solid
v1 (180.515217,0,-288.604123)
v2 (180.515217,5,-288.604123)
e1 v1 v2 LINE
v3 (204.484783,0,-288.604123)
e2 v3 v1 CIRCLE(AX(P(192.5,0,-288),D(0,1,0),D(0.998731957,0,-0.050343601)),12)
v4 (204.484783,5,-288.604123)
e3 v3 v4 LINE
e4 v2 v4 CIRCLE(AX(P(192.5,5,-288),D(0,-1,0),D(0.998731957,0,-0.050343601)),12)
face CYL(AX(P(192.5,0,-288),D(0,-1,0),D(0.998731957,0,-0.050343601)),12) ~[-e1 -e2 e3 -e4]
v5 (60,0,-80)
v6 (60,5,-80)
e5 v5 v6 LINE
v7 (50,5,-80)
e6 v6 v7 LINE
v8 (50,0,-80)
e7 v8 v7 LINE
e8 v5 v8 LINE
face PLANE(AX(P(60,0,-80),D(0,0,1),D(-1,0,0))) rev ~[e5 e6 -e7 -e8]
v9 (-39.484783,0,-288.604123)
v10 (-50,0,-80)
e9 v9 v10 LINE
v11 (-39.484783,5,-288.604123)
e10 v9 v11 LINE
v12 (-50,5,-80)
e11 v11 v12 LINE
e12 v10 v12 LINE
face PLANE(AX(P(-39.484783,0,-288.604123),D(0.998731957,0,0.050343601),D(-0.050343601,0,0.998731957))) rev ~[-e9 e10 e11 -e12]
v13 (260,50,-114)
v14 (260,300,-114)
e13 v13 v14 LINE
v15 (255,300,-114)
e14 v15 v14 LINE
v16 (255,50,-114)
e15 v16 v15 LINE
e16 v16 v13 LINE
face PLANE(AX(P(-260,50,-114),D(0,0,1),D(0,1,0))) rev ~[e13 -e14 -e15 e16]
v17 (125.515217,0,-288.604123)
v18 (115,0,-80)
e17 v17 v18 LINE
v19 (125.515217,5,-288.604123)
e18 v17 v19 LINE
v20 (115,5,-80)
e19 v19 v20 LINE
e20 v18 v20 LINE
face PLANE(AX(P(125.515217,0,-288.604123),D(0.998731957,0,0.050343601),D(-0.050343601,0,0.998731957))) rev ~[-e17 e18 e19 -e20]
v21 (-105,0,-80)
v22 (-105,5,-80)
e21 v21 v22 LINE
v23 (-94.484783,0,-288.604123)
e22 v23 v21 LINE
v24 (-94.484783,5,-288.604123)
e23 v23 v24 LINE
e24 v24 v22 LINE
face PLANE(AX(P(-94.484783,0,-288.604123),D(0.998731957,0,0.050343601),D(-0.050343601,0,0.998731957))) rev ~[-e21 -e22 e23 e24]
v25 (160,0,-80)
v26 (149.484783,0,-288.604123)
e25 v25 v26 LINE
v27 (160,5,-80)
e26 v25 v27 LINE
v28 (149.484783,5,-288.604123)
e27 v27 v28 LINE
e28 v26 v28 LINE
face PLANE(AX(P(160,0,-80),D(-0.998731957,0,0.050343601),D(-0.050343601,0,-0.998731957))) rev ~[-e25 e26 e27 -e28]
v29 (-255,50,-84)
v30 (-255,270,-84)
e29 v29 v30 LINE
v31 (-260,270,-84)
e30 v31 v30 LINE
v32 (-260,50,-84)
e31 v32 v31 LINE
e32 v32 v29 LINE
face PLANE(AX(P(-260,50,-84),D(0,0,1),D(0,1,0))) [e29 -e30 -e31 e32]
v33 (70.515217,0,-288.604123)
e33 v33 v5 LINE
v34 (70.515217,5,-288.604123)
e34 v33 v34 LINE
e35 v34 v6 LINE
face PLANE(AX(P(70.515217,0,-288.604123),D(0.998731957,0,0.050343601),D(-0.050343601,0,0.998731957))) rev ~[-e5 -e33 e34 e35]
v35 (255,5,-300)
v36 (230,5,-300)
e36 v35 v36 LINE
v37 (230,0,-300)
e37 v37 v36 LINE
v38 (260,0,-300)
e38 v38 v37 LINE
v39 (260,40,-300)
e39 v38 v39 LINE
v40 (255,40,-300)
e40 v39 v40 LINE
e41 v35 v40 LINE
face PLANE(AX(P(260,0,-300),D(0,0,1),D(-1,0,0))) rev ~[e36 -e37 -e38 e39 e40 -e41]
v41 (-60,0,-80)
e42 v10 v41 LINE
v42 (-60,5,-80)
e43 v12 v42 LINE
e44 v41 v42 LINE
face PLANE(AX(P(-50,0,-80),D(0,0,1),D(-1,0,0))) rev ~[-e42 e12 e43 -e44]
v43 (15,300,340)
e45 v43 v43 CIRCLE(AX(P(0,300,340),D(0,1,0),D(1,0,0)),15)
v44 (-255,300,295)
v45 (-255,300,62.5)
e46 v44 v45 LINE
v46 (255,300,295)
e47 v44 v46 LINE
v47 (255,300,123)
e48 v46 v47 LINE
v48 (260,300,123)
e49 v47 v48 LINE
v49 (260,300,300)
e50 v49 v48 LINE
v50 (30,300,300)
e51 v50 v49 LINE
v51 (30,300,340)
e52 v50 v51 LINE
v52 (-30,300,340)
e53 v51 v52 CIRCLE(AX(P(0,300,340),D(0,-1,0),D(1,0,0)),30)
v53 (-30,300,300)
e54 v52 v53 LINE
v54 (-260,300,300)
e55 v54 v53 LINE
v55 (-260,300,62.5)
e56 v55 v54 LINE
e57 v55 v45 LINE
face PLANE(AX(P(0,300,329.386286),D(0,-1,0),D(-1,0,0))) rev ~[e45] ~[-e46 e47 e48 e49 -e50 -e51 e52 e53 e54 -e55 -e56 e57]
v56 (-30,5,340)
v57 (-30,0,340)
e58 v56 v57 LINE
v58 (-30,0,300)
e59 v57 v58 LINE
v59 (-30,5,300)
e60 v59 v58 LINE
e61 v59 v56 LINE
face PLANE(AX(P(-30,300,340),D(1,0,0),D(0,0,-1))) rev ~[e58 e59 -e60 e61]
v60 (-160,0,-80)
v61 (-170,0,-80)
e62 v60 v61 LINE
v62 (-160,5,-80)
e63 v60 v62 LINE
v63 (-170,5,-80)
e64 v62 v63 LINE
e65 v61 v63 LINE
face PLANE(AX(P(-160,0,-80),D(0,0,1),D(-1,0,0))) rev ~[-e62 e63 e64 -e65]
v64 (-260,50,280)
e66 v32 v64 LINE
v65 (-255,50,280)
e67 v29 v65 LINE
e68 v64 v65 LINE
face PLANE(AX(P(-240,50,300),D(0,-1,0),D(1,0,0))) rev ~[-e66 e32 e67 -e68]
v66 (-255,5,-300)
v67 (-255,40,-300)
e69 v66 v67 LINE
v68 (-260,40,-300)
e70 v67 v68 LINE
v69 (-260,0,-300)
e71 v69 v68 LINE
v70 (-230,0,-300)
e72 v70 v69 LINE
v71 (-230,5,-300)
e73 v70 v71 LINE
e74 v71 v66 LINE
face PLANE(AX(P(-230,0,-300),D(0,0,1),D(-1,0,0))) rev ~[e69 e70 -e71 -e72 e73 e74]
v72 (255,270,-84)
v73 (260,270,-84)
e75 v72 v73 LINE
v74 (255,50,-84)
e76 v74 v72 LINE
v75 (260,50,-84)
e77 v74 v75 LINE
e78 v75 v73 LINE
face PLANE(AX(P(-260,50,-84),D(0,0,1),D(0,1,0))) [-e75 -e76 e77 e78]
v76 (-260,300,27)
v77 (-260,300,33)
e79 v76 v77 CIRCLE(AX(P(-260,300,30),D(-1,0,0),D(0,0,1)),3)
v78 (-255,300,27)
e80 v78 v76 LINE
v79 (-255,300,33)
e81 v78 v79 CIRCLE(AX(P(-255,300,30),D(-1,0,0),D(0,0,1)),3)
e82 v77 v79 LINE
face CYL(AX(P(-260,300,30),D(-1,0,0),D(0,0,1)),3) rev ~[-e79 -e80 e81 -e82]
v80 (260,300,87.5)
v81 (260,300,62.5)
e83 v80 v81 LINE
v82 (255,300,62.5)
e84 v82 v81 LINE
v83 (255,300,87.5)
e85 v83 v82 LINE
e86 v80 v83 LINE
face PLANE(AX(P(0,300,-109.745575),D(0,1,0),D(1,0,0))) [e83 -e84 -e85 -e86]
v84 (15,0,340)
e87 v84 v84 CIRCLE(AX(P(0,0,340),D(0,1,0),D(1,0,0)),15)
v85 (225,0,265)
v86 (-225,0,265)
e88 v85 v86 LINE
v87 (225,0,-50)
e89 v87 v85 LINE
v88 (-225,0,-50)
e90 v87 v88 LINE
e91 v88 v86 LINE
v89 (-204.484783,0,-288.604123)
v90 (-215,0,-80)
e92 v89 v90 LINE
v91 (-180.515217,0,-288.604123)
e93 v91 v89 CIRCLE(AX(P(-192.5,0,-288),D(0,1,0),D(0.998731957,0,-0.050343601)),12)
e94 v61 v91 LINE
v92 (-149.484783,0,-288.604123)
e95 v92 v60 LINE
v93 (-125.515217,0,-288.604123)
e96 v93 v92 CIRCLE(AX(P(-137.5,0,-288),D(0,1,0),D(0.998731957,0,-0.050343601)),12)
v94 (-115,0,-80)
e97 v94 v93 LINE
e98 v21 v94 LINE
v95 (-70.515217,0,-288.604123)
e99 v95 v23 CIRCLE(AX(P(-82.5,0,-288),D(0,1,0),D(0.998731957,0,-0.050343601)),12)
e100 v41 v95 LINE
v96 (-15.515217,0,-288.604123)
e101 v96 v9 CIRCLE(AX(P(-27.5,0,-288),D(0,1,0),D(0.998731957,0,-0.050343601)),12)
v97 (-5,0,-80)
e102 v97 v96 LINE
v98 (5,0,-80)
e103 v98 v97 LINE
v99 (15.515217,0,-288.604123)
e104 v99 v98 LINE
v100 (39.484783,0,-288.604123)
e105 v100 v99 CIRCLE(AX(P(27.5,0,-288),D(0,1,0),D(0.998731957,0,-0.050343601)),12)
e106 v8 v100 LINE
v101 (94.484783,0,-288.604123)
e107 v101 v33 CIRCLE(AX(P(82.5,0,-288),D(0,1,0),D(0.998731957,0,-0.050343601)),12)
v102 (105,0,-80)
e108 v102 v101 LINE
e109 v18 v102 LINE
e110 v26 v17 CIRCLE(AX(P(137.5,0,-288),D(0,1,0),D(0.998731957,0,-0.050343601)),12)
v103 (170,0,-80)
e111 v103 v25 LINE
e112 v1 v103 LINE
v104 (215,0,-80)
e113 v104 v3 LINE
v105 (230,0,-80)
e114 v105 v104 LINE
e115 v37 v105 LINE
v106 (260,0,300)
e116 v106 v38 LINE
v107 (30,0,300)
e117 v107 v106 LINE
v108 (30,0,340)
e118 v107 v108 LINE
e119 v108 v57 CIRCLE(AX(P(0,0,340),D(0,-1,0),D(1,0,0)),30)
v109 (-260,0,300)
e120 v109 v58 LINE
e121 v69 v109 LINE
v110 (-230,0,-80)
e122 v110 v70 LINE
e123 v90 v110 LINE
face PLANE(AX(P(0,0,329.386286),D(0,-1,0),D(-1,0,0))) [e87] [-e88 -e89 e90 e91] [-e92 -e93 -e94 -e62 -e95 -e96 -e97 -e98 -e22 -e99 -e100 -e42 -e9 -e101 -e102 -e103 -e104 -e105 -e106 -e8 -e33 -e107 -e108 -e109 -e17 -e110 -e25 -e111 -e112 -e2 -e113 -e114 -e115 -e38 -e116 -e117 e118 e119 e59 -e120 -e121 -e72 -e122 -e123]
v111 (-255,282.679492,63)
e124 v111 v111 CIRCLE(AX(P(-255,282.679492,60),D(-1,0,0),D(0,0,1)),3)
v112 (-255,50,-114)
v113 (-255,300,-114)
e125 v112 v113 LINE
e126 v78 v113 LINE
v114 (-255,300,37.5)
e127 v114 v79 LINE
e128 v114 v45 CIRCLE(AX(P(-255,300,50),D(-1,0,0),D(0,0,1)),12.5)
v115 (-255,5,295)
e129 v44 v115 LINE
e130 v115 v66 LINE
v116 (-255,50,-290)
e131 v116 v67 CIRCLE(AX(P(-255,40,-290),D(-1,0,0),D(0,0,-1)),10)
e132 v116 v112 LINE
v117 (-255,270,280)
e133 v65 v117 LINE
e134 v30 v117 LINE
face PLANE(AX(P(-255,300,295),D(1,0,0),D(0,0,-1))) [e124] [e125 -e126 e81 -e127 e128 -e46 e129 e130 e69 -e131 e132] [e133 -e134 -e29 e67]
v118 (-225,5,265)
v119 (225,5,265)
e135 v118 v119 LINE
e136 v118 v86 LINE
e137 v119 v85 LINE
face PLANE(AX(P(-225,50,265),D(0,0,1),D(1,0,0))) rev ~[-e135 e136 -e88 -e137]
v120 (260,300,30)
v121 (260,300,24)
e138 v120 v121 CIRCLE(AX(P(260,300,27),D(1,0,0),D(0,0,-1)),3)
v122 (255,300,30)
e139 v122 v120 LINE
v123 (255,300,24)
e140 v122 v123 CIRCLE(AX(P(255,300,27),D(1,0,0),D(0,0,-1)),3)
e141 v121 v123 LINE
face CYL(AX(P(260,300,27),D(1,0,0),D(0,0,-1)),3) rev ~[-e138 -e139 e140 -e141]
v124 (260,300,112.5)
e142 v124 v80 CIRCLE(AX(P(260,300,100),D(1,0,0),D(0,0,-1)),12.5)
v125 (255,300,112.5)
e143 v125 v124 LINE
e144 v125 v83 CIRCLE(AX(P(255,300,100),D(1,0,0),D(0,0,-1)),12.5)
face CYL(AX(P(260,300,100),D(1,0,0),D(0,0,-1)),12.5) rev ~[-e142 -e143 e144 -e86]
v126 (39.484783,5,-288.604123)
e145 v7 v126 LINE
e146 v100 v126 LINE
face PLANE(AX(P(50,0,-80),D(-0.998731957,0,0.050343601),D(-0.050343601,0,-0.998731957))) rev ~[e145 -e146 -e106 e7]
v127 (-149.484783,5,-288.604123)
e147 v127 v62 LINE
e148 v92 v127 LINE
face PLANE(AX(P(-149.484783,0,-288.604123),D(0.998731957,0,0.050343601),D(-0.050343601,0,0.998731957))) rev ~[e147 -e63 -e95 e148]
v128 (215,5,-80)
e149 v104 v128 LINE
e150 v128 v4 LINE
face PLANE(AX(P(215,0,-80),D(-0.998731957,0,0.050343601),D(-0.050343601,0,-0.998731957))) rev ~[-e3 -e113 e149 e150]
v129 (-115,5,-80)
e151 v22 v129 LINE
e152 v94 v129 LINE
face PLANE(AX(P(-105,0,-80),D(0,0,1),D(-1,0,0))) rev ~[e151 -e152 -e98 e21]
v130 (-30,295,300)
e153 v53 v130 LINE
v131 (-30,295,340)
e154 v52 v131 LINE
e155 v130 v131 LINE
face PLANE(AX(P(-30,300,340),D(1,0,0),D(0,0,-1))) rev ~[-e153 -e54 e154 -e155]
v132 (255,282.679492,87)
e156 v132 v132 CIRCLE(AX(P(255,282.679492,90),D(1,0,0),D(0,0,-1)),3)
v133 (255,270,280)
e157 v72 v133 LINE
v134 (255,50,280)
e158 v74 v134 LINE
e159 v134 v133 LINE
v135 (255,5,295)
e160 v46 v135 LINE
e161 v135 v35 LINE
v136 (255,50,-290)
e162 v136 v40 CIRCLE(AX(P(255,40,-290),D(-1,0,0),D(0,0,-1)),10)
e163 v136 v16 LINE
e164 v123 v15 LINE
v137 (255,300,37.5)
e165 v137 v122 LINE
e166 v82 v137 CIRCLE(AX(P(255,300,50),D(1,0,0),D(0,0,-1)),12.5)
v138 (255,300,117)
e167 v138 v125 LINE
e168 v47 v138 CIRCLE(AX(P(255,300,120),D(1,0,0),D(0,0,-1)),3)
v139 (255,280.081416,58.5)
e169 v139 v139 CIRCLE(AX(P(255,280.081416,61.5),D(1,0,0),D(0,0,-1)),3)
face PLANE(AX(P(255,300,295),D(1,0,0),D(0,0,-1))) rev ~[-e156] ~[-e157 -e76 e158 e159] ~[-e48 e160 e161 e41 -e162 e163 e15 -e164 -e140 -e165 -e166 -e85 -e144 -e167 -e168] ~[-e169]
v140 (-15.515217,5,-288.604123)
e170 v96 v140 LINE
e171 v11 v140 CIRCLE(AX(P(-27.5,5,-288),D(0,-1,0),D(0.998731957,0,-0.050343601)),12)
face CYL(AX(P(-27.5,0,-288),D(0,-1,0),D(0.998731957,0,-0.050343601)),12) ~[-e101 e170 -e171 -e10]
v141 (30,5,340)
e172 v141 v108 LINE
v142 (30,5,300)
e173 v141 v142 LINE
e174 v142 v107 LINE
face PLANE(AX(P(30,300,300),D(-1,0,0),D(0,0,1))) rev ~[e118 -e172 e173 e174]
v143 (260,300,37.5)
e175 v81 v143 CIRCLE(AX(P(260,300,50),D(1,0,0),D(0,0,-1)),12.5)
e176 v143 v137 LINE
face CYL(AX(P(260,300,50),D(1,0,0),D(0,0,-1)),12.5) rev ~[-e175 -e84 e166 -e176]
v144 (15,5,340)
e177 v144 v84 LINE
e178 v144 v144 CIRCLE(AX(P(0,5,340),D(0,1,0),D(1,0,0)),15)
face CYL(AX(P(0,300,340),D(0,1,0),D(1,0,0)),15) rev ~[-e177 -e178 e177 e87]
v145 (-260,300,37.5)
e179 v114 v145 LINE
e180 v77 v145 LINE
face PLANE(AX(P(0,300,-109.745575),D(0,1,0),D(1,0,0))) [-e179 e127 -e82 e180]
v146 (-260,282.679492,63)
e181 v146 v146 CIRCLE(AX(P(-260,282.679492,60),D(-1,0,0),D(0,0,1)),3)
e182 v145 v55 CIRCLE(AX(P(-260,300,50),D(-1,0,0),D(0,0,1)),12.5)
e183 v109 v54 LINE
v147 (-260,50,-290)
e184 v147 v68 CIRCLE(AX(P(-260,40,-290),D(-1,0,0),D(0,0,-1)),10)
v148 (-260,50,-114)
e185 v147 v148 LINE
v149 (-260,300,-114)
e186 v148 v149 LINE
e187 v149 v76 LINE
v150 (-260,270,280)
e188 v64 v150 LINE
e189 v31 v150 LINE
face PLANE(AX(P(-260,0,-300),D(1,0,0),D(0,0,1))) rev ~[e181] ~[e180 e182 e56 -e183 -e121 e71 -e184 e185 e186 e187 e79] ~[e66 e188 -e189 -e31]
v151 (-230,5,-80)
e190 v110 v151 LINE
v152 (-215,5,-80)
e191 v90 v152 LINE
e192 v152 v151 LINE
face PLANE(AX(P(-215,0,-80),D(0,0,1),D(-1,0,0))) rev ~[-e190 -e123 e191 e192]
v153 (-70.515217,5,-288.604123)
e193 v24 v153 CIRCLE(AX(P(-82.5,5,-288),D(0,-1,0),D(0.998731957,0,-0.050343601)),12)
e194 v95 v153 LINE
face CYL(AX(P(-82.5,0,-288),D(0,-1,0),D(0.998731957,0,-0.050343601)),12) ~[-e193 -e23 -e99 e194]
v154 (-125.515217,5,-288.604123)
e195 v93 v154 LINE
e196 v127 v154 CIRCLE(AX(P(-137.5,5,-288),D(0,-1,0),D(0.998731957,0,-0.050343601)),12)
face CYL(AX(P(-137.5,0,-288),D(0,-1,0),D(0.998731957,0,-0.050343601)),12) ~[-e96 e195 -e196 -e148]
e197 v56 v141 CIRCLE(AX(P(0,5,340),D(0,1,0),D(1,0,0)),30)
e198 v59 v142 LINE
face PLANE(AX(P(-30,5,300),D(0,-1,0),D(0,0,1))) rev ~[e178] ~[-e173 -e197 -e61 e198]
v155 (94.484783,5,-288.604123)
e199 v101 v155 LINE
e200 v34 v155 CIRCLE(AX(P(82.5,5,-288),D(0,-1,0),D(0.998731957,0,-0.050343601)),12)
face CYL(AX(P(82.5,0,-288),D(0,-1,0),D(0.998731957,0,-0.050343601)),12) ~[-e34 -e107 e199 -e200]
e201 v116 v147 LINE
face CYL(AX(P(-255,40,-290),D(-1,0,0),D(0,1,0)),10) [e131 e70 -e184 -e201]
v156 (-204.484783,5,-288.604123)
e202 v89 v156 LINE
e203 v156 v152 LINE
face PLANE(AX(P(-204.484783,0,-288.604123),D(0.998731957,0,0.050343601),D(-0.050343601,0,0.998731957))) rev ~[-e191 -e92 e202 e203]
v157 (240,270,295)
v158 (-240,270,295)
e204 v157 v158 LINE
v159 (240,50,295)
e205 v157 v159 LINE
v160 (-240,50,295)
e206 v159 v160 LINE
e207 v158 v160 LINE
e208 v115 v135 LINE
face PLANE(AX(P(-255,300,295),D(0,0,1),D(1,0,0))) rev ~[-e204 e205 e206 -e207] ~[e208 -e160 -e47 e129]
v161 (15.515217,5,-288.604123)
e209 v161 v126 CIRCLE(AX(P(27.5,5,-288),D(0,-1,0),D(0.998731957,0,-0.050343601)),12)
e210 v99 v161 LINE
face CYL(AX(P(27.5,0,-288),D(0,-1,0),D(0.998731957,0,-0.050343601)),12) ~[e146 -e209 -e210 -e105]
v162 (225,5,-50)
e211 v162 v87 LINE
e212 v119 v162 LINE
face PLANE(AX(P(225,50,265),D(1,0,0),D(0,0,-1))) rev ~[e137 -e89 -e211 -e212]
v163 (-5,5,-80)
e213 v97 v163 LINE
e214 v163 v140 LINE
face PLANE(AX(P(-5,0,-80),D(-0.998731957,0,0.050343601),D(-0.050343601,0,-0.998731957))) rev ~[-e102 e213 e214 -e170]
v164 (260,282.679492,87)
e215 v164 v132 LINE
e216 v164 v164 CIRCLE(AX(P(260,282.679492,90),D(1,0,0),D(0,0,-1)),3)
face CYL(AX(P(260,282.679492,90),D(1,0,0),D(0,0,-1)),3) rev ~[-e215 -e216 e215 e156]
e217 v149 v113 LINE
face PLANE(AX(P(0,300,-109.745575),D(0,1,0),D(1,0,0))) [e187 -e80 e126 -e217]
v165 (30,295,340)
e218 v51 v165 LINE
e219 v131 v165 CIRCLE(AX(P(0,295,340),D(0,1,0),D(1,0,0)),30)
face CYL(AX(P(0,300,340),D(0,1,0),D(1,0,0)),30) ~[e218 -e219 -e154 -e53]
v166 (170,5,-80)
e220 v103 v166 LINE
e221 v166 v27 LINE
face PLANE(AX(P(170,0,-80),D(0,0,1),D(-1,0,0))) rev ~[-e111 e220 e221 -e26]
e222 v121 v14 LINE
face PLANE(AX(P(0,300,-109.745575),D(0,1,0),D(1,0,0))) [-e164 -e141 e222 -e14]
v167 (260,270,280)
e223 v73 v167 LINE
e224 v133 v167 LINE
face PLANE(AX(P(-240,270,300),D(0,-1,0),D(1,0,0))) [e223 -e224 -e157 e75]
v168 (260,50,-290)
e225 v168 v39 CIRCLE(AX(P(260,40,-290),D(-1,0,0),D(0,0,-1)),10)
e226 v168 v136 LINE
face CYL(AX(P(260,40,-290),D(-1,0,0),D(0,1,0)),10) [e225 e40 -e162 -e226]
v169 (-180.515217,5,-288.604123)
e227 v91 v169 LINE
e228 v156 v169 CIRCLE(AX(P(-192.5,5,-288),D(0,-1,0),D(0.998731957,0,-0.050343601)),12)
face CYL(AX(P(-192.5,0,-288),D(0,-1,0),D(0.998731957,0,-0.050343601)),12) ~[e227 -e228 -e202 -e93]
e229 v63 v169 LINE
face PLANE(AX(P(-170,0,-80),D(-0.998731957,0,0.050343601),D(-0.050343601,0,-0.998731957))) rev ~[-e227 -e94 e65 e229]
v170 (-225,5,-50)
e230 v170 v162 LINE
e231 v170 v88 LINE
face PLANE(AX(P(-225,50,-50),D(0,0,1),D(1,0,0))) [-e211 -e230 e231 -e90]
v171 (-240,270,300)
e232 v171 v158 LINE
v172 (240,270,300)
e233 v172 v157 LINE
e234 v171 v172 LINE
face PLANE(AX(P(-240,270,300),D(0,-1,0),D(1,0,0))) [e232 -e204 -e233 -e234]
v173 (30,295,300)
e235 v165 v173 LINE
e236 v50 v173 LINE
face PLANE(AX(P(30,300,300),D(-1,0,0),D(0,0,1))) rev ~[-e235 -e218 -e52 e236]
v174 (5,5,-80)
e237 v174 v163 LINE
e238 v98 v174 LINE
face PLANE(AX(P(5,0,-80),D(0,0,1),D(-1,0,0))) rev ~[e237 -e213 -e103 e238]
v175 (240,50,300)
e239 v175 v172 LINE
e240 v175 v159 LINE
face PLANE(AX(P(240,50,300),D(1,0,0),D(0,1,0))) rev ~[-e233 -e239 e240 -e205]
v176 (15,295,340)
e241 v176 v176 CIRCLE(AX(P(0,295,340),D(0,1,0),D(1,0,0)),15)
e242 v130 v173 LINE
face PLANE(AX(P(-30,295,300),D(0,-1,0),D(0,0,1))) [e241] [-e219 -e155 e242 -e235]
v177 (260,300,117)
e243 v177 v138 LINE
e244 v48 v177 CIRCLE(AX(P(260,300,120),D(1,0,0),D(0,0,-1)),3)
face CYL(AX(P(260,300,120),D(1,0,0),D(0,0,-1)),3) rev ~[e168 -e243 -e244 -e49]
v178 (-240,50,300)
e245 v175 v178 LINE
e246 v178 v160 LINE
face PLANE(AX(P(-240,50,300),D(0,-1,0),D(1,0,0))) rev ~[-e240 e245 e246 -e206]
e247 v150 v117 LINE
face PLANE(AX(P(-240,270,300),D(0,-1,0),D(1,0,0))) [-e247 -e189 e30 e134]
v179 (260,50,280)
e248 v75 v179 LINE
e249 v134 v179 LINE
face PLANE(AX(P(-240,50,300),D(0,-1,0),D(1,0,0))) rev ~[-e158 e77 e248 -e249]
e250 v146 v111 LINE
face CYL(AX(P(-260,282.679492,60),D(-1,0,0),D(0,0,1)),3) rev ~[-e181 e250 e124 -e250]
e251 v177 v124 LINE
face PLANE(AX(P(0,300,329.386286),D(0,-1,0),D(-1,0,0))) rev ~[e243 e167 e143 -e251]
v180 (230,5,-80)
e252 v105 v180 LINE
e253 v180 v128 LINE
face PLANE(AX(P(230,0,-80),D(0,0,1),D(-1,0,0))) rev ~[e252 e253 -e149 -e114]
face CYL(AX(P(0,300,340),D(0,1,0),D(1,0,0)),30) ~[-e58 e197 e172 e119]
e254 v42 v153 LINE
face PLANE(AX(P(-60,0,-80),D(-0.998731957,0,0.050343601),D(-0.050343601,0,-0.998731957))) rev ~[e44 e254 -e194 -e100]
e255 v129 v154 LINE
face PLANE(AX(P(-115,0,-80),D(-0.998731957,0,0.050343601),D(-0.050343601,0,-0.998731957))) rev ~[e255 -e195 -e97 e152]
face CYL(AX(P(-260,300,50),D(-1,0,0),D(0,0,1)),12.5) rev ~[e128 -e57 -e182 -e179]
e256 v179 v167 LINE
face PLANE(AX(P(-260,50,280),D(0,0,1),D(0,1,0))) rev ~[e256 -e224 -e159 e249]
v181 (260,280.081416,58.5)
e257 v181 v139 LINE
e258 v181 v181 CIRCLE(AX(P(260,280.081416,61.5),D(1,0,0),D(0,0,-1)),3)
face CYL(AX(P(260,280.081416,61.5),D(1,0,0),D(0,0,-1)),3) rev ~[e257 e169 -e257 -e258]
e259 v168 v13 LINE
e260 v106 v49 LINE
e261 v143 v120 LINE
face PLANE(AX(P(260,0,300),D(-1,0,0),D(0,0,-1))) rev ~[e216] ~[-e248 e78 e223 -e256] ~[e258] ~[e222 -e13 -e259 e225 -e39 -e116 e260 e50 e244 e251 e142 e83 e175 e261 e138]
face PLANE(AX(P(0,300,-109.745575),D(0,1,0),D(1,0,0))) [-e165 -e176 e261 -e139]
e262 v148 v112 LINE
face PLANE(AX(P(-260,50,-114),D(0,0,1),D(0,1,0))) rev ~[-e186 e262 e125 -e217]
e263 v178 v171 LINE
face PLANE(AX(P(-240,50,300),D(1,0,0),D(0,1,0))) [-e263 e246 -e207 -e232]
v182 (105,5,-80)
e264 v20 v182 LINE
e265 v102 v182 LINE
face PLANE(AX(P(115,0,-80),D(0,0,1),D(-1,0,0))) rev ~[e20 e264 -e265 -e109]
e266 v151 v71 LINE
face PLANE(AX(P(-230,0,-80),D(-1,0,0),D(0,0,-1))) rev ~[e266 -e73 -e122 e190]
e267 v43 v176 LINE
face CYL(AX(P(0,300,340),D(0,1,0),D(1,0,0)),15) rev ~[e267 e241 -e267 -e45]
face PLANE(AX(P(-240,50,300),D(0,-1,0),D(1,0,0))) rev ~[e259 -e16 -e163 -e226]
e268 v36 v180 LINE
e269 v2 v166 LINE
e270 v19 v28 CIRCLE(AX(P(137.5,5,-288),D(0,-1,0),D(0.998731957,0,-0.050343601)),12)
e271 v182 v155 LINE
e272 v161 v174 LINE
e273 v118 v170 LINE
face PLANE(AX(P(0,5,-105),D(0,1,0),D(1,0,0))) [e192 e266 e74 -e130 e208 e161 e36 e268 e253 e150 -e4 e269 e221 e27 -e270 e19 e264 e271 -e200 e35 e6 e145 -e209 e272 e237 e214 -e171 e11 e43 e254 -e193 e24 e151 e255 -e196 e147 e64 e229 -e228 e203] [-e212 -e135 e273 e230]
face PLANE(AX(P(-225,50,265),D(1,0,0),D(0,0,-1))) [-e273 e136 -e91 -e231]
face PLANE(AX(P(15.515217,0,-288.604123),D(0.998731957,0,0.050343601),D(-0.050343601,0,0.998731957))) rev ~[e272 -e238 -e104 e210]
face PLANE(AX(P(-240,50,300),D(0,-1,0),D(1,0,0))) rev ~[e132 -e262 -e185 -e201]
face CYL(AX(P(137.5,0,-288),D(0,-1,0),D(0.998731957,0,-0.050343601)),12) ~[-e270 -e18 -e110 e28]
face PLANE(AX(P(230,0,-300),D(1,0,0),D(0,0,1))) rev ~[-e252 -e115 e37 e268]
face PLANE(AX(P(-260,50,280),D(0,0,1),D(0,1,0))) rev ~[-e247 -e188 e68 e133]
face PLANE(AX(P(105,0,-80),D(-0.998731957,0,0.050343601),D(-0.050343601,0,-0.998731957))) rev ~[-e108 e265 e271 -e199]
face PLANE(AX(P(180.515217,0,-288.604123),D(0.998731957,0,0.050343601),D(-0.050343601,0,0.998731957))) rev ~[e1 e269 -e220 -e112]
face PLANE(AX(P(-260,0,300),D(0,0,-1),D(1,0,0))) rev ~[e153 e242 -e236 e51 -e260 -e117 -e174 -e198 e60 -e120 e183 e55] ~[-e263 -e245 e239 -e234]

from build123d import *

# Parameters (mm, degrees)
EXTRUDE_1_DEPTH      = 300
SKETCH_2_W           = 480
SKETCH_2_H           = 220
CUT_EXTRUDE_1_DEPTH  = 601
SKETCH_3_W           = 364
SKETCH_3_H           = 220
CUT_EXTRUDE_2_DEPTH  = 520
SKETCH_5_W           = 186
SKETCH_5_H           = 250
CUT_EXTRUDE_4_DEPTH  = 520
SKETCH_6_W           = 510
SKETCH_6_H           = 800
CUT_EXTRUDE_5_DEPTH  = 295
CUT_EXTRUDE_3_REACH  = 522
SKETCH_4_R           = 12.5
SKETCH_12_R          = 12.5
CUT_EXTRUDE_8_DEPTH  = 10
SKETCH_7_R           = 15
EXTRUDE_2_DEPTH      = 300
CUT_EXTRUDE_6_REACH  = 292
SKETCH_8_W           = 177.621372849
SKETCH_8_H           = 290
SKETCH_10_W          = 450
SKETCH_10_H          = 315
CUT_EXTRUDE_7_DEPTH  = 51
FILLET_1_R           = 10
SKETCH_15_R          = 3
CUT_EXTRUDE_10_DEPTH = 5
SKETCH_16_R          = 3
CUT_EXTRUDE_11_DEPTH = 5
SKETCH_17_R          = 3
CUT_EXTRUDE_12_DEPTH = 5


with BuildPart() as part:
    # 草图1 → 凸台-拉伸1 (new body)
    with BuildSketch(Plane(origin=(0, 0, 0), x_dir=(1, 0, 0), z_dir=(0, 1, 0))):
        with BuildLine():
            Line((-215, 80), (-230, 80))
            Line((-230, 80), (-230, 300))
            Line((-230, 300), (-260, 300))
            Line((-260, 300), (-260, -300))
            Line((-260, -300), (260, -300))
            Line((260, -300), (260, 300))
            Line((260, 300), (230, 300))
            Line((230, 300), (230, 80))
            Line((230, 80), (215, 80))
            Line((215, 80), (204.484783483, 288.604123213))
            ThreePointArc((204.484783483, 288.604123213), (192.5, 300), (180.515216517, 288.604123213))
            Line((180.515216517, 288.604123213), (170, 80))
            Line((170, 80), (160, 80))
            Line((160, 80), (149.484783483, 288.604123213))
            ThreePointArc((149.484783483, 288.604123213), (137.5, 300), (125.515216517, 288.604123213))
            Line((125.515216517, 288.604123213), (115, 80))
            Line((115, 80), (105, 80))
            Line((105, 80), (94.484783483, 288.604123213))
            ThreePointArc((94.484783483, 288.604123213), (82.5, 300), (70.515216517, 288.604123213))
            Line((70.515216517, 288.604123213), (60, 80))
            Line((60, 80), (50, 80))
            Line((50, 80), (39.484783483, 288.604123213))
            ThreePointArc((39.484783483, 288.604123213), (27.5, 300), (15.515216517, 288.604123213))
            Line((15.515216517, 288.604123213), (5, 80))
            Line((5, 80), (-5, 80))
            Line((-5, 80), (-15.515216517, 288.604123213))
            ThreePointArc((-15.515216517, 288.604123213), (-27.5, 300), (-39.484783483, 288.604123213))
            Line((-39.484783483, 288.604123213), (-50, 80))
            Line((-50, 80), (-60, 80))
            Line((-60, 80), (-70.515216517, 288.604123213))
            ThreePointArc((-70.515216517, 288.604123213), (-82.5, 300), (-94.484783483, 288.604123213))
            Line((-94.484783483, 288.604123213), (-105, 80))
            Line((-105, 80), (-115, 80))
            Line((-115, 80), (-125.515216517, 288.604123213))
            ThreePointArc((-125.515216517, 288.604123213), (-137.5, 300), (-149.484783483, 288.604123213))
            Line((-149.484783483, 288.604123213), (-160, 80))
            Line((-160, 80), (-170, 80))
            Line((-170, 80), (-180.515216517, 288.604123213))
            ThreePointArc((-180.515216517, 288.604123213), (-192.5, 300), (-204.484783483, 288.604123213))
            Line((-204.484783483, 288.604123213), (-215, 80))
        make_face()
    extrude(amount=EXTRUDE_1_DEPTH)

    # 草图2 → 切除-拉伸1 (cut, through all)
    with BuildSketch(Plane.XY.offset(300)):
        with Locations((0, 160)):
            Rectangle(SKETCH_2_W, SKETCH_2_H)
    extrude(amount=-CUT_EXTRUDE_1_DEPTH, mode=Mode.SUBTRACT)

    # 草图3 → 切除-拉伸2 (cut)
    with BuildSketch(Plane.ZY.offset(260)):
        with Locations((98, 160)):
            Rectangle(SKETCH_3_W, SKETCH_3_H)
    extrude(amount=-CUT_EXTRUDE_2_DEPTH, mode=Mode.SUBTRACT)

    # 草图5 → 切除-拉伸4 (cut)
    with BuildSketch(Plane.ZY.offset(260)):
        with Locations((-207, 175)):
            Rectangle(SKETCH_5_W, SKETCH_5_H)
    extrude(amount=-CUT_EXTRUDE_4_DEPTH, mode=Mode.SUBTRACT)

    # 草图6 → 切除-拉伸5 (cut)
    with BuildSketch(Plane(origin=(0, 300, 0), x_dir=(1, 0, 0), z_dir=(0, 1, 0))):
        with Locations((0, 105)):
            Rectangle(SKETCH_6_W, SKETCH_6_H)
    extrude(amount=-CUT_EXTRUDE_5_DEPTH, mode=Mode.SUBTRACT)

    # 草图4 → 切除-拉伸3 (cut, up to next)
    with BuildSketch(Plane.ZY.offset(260), mode=Mode.PRIVATE) as cut_extrude_3_sk1:
        with Locations((50, 300)):
            Circle(SKETCH_4_R)
    cut_extrude_3_tool1 = extrude(cut_extrude_3_sk1.sketch, amount=-CUT_EXTRUDE_3_REACH, mode=Mode.PRIVATE) & part.part
    add(cut_extrude_3_tool1.solids().sort_by_distance((-260, 300, 50))[0], mode=Mode.SUBTRACT)

    # 草图12 → 切除-拉伸8 (cut)
    with BuildSketch(Plane(origin=(260, 0, 0), x_dir=(0, 0, -1), z_dir=(1, 0, 0))):
        with Locations((-100, 300)):
            Circle(SKETCH_12_R)
        with Locations((-50, 300)):
            Circle(SKETCH_12_R)
    extrude(amount=-CUT_EXTRUDE_8_DEPTH, mode=Mode.SUBTRACT)

    # 草图7 → 凸台-拉伸2 (add)
    with BuildSketch(Plane(origin=(0, 300, 0), x_dir=(1, 0, 0), z_dir=(0, 1, 0))):
        with BuildLine():
            Line((-30, -340), (-30, -300))
            Line((-30, -300), (30, -300))
            Line((30, -300), (30, -340))
            ThreePointArc((30, -340), (0, -370), (-30, -340))
        make_face()
        with Locations((0, -340)):
            Circle(SKETCH_7_R, mode=Mode.SUBTRACT)
    extrude(amount=-EXTRUDE_2_DEPTH)

    # 草图8 → 切除-拉伸6 (cut, up to next)
    with BuildSketch(Plane.ZY.offset(30), mode=Mode.PRIVATE) as cut_extrude_6_sk1:
        with Locations((388.810686424, 150)):
            Rectangle(SKETCH_8_W, SKETCH_8_H)
    cut_extrude_6_tool1 = extrude(cut_extrude_6_sk1.sketch, amount=-CUT_EXTRUDE_6_REACH, mode=Mode.PRIVATE) & part.part
    add(cut_extrude_6_tool1.solids().sort_by_distance((-30, 150, 388.810686))[0], mode=Mode.SUBTRACT)

    # 草图10 → 切除-拉伸7 (cut, through all)
    with BuildSketch(Plane(origin=(0, 50, 0), x_dir=(1, 0, 0), z_dir=(0, 1, 0))):
        with Locations((0, -107.5)):
            Rectangle(SKETCH_10_W, SKETCH_10_H)
    extrude(amount=-CUT_EXTRUDE_7_DEPTH, mode=Mode.SUBTRACT)

    # 圆角1
    fillet_1_edges = [part.edges().sort_by_distance(p)[0] for p in [
        (-257.5, 50, -300),
        (257.5, 50, -300),
    ]]
    fillet(fillet_1_edges, radius=FILLET_1_R)

    # 草图15 → 切除-拉伸10 (cut)
    with BuildSketch(Plane(origin=(260, 0, 0), x_dir=(0, 0, -1), z_dir=(1, 0, 0))):
        with Locations((-120, 300)):
            Circle(SKETCH_15_R)
        with Locations((-90, 282.679491924)):
            Circle(SKETCH_15_R)
    extrude(amount=-CUT_EXTRUDE_10_DEPTH, mode=Mode.SUBTRACT)

    # 草图16 → 切除-拉伸11 (cut)
    with BuildSketch(Plane.ZY.offset(260)):
        with Locations((30, 300)):
            Circle(SKETCH_16_R)
        with Locations((60, 282.679491924)):
            Circle(SKETCH_16_R)
    extrude(amount=-CUT_EXTRUDE_11_DEPTH, mode=Mode.SUBTRACT)

    # 草图17 → 切除-拉伸12 (cut)
    with BuildSketch(Plane(origin=(260, 0, 0), x_dir=(0, 0, -1), z_dir=(1, 0, 0))):
        with Locations((-27, 300)):
            Circle(SKETCH_17_R)
        with Locations((-61.5, 280.081415713)):
            Circle(SKETCH_17_R)
    extrude(amount=-CUT_EXTRUDE_12_DEPTH, mode=Mode.SUBTRACT)


solid = part.part
